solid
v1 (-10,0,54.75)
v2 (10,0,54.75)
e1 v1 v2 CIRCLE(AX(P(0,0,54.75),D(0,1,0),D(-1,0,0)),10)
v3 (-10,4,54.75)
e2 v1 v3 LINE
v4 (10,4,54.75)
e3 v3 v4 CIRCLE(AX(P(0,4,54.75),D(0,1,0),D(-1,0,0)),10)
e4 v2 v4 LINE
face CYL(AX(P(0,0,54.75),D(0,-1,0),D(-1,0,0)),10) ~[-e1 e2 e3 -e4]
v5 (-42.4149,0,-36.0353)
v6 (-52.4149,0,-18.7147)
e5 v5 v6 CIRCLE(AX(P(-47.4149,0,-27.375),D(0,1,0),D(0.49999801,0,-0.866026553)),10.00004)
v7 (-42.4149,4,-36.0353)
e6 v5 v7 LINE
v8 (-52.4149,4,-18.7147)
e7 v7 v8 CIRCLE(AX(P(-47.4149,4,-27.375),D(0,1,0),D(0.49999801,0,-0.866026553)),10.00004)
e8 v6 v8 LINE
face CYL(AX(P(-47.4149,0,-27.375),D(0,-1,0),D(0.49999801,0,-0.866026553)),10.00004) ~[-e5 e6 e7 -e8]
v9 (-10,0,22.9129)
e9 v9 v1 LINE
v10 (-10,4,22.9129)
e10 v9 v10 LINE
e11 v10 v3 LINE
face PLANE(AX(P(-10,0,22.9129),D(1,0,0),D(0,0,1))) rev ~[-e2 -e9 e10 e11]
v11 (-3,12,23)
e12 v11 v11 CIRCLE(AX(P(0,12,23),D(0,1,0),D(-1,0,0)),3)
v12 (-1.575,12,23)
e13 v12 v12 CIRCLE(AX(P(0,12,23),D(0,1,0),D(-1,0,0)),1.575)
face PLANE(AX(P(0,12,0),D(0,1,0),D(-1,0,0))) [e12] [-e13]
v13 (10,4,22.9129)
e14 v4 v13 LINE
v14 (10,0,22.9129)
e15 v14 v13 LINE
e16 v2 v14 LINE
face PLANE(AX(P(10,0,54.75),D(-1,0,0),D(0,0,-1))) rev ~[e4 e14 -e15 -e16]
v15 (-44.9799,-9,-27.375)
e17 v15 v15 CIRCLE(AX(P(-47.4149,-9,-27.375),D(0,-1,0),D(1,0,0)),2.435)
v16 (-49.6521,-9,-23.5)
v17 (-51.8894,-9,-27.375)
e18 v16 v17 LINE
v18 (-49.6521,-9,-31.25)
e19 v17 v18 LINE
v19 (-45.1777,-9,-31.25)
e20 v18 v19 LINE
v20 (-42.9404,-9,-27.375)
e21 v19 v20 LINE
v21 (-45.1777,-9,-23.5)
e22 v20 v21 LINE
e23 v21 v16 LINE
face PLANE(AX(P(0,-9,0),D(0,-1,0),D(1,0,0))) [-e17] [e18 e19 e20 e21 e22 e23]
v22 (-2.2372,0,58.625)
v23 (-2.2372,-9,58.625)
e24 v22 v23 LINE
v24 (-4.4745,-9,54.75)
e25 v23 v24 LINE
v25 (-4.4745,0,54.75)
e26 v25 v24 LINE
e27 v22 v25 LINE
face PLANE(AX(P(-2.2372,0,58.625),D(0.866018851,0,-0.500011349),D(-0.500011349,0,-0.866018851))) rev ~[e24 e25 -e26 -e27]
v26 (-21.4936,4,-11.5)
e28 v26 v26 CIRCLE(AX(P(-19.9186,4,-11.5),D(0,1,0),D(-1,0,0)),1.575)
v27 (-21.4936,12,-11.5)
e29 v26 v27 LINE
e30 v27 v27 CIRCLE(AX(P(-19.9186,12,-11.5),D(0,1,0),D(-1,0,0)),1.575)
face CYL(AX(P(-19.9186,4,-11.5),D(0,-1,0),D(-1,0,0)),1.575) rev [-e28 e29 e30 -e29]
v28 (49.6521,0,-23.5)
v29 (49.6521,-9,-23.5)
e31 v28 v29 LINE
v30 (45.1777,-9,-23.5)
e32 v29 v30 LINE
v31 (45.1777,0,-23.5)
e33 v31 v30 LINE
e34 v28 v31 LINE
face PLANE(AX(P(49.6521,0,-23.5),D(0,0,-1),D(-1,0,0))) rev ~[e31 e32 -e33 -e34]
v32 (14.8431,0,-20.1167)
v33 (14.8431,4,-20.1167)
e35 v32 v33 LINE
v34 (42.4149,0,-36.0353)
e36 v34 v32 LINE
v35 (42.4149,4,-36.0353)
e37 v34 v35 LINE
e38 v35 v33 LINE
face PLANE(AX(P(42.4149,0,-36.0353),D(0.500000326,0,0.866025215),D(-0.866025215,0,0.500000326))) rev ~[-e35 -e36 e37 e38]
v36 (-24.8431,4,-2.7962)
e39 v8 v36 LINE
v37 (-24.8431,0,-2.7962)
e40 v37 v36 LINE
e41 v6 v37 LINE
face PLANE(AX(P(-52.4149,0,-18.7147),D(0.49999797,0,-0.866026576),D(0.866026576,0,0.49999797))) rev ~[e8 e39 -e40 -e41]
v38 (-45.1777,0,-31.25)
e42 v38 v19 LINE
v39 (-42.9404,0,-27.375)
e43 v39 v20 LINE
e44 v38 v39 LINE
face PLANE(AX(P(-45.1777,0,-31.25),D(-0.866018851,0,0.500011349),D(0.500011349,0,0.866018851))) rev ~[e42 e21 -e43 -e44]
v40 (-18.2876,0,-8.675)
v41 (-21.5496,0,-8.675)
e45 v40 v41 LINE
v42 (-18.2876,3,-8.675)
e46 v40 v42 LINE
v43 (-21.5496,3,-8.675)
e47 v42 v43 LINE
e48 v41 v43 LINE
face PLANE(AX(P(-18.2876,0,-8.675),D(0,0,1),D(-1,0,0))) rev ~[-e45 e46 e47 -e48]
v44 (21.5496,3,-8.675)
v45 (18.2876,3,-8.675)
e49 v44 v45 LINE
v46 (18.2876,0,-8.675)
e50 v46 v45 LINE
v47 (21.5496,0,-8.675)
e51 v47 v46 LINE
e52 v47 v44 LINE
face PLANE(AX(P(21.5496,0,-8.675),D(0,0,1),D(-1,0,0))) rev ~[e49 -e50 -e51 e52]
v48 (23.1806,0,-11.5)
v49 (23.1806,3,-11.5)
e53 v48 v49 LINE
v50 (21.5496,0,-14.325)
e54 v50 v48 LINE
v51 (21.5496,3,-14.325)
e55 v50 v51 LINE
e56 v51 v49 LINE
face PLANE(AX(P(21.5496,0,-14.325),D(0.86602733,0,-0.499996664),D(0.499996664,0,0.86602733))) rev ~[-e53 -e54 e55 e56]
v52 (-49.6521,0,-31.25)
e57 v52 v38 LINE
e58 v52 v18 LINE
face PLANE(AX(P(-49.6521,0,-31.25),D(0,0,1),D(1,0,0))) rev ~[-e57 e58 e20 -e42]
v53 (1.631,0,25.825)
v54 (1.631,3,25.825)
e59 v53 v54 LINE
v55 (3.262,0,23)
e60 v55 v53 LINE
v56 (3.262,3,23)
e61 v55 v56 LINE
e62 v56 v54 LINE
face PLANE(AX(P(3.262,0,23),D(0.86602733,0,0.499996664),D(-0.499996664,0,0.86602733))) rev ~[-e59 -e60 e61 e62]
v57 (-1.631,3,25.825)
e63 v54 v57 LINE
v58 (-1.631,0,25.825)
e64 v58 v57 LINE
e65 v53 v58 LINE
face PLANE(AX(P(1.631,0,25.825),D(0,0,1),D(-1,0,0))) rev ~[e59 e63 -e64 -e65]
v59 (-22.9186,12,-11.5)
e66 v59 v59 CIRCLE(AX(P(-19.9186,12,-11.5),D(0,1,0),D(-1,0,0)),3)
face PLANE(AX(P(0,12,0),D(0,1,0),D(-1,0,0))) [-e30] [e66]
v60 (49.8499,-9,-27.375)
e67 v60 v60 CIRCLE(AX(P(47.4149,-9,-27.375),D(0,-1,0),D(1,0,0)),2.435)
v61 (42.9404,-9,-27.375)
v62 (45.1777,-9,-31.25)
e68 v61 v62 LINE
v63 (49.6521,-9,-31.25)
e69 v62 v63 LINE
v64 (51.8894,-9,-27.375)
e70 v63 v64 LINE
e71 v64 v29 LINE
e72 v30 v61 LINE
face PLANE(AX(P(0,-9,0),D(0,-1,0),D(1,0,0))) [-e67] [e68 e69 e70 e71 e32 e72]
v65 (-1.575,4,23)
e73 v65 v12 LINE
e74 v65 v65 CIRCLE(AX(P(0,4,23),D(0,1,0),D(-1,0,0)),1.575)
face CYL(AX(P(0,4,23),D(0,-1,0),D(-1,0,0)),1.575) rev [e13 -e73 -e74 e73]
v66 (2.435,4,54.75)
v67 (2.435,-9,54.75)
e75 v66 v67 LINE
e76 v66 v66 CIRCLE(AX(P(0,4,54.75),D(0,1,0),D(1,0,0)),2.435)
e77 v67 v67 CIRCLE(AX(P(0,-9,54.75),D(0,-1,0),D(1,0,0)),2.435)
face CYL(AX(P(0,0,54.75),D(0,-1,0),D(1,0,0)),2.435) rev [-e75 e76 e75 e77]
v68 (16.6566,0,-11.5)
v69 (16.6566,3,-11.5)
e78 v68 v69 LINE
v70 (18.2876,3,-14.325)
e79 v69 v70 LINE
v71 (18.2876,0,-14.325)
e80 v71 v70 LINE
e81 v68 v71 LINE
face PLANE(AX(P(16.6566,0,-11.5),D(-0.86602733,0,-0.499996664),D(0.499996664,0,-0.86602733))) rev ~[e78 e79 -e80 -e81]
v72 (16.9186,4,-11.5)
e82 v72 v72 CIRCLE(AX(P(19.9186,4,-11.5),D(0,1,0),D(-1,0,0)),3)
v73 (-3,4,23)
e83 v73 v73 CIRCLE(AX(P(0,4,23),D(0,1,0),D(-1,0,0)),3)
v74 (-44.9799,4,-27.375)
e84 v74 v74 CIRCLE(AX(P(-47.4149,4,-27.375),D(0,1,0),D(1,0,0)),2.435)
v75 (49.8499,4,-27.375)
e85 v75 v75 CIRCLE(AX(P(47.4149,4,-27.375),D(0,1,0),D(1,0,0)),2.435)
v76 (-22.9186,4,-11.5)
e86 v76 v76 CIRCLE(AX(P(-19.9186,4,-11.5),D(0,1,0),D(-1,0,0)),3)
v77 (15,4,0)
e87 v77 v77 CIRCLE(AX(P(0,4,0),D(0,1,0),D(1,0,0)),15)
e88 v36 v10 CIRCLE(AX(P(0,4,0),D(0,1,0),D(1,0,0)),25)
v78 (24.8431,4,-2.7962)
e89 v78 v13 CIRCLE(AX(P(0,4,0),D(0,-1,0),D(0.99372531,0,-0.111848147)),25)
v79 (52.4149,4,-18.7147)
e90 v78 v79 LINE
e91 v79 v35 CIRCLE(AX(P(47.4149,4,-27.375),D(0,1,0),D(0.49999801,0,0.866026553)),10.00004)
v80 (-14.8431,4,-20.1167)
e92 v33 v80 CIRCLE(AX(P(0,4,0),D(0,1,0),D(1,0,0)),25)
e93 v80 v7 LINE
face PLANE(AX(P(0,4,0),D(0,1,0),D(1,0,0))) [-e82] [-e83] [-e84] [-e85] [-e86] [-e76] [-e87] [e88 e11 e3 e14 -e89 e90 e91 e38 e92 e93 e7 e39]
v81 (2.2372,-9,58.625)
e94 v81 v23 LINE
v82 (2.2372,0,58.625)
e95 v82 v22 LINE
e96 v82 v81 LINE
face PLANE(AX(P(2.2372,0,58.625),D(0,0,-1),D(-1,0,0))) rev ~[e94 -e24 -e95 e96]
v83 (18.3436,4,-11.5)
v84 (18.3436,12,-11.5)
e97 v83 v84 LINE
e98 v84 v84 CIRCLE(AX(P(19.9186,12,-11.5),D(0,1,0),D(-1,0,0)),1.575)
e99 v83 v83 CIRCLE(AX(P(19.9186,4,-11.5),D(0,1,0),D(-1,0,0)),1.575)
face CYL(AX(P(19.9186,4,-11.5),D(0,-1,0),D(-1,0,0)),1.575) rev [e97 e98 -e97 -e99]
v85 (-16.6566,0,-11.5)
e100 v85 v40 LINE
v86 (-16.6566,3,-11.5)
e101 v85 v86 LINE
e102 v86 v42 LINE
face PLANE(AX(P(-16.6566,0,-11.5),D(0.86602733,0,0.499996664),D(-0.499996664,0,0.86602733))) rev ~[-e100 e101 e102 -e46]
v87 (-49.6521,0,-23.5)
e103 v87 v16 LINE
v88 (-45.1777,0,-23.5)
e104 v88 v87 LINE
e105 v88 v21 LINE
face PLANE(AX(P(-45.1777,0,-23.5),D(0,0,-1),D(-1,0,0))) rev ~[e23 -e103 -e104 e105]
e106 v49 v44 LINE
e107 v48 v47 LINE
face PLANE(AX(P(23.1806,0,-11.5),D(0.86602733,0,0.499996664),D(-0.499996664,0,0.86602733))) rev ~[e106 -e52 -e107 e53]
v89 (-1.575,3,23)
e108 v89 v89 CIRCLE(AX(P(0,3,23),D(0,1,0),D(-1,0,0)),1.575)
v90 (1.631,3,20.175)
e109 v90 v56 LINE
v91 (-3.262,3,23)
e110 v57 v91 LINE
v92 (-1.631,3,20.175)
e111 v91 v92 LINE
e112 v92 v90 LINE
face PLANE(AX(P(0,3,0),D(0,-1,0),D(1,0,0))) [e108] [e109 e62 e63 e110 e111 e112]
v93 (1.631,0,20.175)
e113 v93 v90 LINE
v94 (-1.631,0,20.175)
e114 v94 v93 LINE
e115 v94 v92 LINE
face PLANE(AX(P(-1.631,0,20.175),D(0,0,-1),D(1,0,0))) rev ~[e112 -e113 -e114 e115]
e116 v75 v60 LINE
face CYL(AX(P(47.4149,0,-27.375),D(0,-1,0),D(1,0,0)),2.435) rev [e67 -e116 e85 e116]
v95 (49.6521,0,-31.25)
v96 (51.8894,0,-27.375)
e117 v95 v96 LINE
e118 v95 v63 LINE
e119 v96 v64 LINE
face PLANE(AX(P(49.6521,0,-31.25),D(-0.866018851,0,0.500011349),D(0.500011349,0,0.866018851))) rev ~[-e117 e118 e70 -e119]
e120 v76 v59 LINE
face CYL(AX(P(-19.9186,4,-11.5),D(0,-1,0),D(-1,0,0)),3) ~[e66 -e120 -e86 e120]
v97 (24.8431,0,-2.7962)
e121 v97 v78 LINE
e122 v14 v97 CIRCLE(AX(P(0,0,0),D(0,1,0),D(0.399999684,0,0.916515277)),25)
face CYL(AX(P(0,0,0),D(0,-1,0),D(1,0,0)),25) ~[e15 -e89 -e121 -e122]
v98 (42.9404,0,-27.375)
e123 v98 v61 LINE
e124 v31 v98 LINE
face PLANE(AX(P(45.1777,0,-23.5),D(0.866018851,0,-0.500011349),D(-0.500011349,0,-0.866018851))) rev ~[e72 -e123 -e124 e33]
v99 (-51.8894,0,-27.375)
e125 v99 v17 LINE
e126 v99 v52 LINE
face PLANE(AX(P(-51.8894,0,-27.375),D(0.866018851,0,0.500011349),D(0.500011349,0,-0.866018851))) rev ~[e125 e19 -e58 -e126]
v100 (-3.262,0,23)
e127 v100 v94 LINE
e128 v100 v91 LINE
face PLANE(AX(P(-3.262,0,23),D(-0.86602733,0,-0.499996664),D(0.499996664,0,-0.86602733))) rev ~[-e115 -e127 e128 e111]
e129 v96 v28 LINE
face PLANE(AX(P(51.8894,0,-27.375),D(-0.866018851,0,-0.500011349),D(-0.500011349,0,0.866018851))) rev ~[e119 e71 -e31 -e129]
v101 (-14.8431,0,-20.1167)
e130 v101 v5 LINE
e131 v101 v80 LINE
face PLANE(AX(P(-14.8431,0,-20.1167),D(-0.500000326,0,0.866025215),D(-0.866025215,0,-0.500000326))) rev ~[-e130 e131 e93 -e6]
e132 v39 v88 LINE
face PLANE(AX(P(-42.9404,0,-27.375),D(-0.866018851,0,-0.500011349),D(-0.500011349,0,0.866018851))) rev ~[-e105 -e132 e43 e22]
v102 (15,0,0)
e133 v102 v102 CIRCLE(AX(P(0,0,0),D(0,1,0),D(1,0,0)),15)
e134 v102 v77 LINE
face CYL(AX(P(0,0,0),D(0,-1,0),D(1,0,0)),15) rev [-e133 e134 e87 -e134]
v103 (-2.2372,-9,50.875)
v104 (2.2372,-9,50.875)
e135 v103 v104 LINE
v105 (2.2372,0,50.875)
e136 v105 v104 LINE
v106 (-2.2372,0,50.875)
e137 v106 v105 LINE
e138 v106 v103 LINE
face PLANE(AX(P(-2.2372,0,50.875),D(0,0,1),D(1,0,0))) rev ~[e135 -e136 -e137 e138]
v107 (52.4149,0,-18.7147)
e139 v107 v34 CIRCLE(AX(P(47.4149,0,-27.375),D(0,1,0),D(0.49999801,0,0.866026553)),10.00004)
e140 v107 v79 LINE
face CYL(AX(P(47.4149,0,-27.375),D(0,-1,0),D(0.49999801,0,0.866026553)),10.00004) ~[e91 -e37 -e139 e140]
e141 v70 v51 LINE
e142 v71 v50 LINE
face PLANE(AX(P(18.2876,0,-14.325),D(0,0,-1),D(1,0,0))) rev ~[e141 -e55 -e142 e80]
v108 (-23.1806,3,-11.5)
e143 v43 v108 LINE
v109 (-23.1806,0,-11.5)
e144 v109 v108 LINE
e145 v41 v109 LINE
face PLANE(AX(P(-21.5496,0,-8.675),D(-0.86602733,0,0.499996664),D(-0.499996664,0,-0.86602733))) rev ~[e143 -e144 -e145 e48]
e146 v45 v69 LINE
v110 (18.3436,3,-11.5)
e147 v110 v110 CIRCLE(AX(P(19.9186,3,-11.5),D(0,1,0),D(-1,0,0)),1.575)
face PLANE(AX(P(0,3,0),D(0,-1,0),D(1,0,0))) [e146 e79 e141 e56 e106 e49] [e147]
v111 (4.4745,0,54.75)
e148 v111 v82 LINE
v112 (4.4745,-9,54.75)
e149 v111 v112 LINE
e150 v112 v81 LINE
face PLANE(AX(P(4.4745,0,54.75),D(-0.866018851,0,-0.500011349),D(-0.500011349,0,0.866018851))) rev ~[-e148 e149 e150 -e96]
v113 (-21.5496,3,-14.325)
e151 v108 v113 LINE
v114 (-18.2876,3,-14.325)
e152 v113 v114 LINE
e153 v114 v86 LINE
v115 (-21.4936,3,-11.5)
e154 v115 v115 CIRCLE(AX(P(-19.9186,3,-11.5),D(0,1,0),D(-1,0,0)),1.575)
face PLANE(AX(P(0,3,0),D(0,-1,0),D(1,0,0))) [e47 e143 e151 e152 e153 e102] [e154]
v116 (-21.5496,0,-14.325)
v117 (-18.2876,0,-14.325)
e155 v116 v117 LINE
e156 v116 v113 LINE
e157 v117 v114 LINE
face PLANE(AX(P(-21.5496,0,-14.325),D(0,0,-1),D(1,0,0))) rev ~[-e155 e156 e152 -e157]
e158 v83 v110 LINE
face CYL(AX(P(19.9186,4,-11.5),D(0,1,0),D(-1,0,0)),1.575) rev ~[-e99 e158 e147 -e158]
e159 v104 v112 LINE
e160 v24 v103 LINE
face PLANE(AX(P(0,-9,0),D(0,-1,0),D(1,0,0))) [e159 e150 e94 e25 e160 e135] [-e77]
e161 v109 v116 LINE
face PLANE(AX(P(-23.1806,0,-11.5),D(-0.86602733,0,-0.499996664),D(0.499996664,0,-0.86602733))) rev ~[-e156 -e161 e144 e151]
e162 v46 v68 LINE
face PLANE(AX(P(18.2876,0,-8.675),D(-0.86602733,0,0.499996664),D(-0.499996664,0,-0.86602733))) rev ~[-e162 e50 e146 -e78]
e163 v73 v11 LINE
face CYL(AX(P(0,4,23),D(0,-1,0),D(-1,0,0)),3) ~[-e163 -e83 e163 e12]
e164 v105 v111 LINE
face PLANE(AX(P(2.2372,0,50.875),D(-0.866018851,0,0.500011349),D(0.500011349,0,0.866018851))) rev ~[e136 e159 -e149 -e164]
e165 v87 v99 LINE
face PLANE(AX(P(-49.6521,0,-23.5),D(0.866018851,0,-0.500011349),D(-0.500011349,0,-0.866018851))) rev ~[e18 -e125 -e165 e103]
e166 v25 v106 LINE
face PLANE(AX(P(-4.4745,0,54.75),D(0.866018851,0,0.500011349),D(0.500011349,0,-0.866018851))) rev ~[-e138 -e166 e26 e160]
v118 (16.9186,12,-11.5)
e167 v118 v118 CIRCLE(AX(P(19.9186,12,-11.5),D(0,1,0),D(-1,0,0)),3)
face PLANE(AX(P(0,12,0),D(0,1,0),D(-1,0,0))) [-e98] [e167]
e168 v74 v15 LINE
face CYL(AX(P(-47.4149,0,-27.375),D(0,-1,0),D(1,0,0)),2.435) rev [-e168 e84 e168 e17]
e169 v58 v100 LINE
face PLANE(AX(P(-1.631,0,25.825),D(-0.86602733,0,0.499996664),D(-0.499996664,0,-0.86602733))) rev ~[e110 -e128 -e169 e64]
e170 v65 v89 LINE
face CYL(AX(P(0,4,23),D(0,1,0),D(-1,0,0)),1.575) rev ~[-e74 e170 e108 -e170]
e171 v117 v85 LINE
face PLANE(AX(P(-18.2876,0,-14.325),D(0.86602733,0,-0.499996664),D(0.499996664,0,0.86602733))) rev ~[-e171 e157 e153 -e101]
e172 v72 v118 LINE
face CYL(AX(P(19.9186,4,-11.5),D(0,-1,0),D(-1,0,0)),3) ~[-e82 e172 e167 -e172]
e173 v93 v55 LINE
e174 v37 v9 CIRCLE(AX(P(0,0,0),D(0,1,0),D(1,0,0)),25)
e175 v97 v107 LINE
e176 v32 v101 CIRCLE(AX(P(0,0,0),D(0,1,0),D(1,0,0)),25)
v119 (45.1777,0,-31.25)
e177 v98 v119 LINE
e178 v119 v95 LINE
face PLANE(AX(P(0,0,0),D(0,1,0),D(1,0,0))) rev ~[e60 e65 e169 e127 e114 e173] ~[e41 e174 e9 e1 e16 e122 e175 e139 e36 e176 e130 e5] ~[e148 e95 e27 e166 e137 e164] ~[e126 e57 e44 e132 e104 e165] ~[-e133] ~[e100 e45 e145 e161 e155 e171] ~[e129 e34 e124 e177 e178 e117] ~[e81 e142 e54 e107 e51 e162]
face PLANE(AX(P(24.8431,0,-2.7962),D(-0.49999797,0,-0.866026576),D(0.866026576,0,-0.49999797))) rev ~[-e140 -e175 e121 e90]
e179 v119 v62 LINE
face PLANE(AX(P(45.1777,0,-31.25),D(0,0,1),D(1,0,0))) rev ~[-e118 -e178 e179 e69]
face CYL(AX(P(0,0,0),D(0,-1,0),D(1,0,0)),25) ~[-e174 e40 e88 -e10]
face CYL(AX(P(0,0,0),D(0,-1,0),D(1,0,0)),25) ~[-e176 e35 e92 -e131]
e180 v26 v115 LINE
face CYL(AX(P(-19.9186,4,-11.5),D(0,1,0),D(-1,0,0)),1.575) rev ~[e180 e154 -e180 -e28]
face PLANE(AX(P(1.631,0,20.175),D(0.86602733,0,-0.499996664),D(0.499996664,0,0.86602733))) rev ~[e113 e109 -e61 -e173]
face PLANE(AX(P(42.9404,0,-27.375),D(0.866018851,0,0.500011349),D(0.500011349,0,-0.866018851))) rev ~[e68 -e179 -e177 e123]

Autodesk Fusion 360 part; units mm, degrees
sketch "Sketch1" plane through (0, 0, 0) normal (0, 1, 0) x (1, 0, 0)
  circle A0 centre (0, 0) radius 15
  circle A1 centre (0, 0) radius 25
  line L0 (0, 0) -> (0, -54.75) construction
  circle A2 centre (0, -54.75) radius 2.435
  line L1 (4.5611, -54.75) -> (2.2805, -50.8)
  line L2 (2.2805, -50.8) -> (-2.2805, -50.8)
  line L3 (-2.2805, -50.8) -> (-4.5611, -54.75)
  line L4 (-4.5611, -54.75) -> (-2.2805, -58.7)
  line L5 (-2.2805, -58.7) -> (2.2805, -58.7)
  line L6 (2.2805, -58.7) -> (4.5611, -54.75)
  line L7 (-10, -22.9129) -> (-10, -54.75)
  arc A3 (-10, -54.75) -> (10, -54.75) centre (0, -54.75) ccw
  line L8 (10, -54.75) -> (10, -22.9129)
  line L9 (0, 0) -> (47.4149, 27.375) construction
  line L10 (45.1344, 31.325) -> (42.8538, 27.375)
  circle A4 centre (47.4149, 27.375) radius 2.435
  line L11 (51.976, 27.375) -> (49.6954, 31.325)
  line L12 (42.8538, 27.375) -> (45.1344, 23.425)
  line L13 (49.6954, 23.425) -> (51.976, 27.375)
  line L14 (45.1344, 23.425) -> (49.6954, 23.425)
  arc A5 (52.4149, 18.7147) -> (42.4149, 36.0353) centre (47.4149, 27.375) ccw
  line L15 (49.6954, 31.325) -> (45.1344, 31.325)
  line L16 (42.4149, 36.0353) -> (14.8431, 20.1167)
  line L17 (24.8431, 2.7962) -> (52.4149, 18.7147)
  line L18 (0, 0) -> (-47.4149, 27.375) construction
  line L19 (-49.6954, 23.425) -> (-45.1344, 23.425)
  circle A6 centre (-47.4149, 27.375) radius 2.435
  line L20 (-49.6954, 31.325) -> (-51.976, 27.375)
  line L21 (-45.1344, 23.425) -> (-42.8538, 27.375)
  line L22 (-45.1344, 31.325) -> (-49.6954, 31.325)
  line L23 (-42.8538, 27.375) -> (-45.1344, 31.325)
  arc A7 (-42.4149, 36.0353) -> (-52.4149, 18.7147) centre (-47.4149, 27.375) ccw
  line L24 (-51.976, 27.375) -> (-49.6954, 23.425)
  line L25 (-52.4149, 18.7147) -> (-24.8431, 2.7962)
  line L26 (-14.8431, 20.1167) -> (-42.4149, 36.0353)
  point P0 (0, -54.75)
  point P1 (47.4149, 27.375)
  point P2 (-47.4149, 27.375)
  dimension "d1" = 30
  dimension "d2" = 50
  dimension "d3" = 7.9
  dimension "d4" = 4.87
  dimension "d5" = 50.8
  dimension "d6" = 10
  dimension "d8" = 360
extrude "Extrude1" add sketch "Sketch1" along normal blind 4 contours A1 | A1 A5 L16 L17 | A1 L7 A3 L8 | A1 A7 L25 L26 | L1 L2 L3 L4 L5 L6 | L10 L11 L12 L13 L14 L15 | L19 L20 L21 L22 L23 L24
sketch "Sketch2" plane through (0, 0, 0) normal (0, -1, 0) x (1, 0, 0)
  circle A0 centre (0, 0) radius 15
  circle A1 centre (47.4149, -27.375) radius 2.435
  circle A2 centre (0, 54.75) radius 2.435
  circle A3 centre (-47.4149, -27.375) radius 2.435
  line L0 (-42.4149, -36.0353) -> (-14.8431, -20.1167)
  arc A4 (-14.8431, -20.1167) -> (14.8431, -20.1167) centre (0, 0) ccw
  line L1 (14.8431, -20.1167) -> (42.4149, -36.0353)
  arc A5 (42.4149, -36.0353) -> (52.4149, -18.7147) centre (47.4149, -27.375) ccw
  line L2 (52.4149, -18.7147) -> (24.8431, -2.7962)
  arc A6 (24.8431, -2.7962) -> (10, 22.9129) centre (0, 0) ccw
  line L3 (10, 22.9129) -> (10, 54.75)
  arc A7 (10, 54.75) -> (-10, 54.75) centre (0, 54.75) ccw
  line L4 (-10, 54.75) -> (-10, 22.9129)
  arc A8 (-10, 22.9129) -> (-24.8431, -2.7962) centre (0, 0) ccw
  line L5 (-24.8431, -2.7962) -> (-52.4149, -18.7147)
  arc A9 (-52.4149, -18.7147) -> (-42.4149, -36.0353) centre (-47.4149, -27.375) ccw
  line L6 (2.2372, 50.875) -> (4.4745, 54.75)
  line L7 (4.4745, 54.75) -> (2.2372, 58.625)
  line L8 (2.2372, 58.625) -> (-2.2372, 58.625)
  line L9 (-2.2372, 58.625) -> (-4.4745, 54.75)
  line L10 (-4.4745, 54.75) -> (-2.2372, 50.875)
  line L11 (-2.2372, 50.875) -> (2.2372, 50.875)
  line L12 (-51.8894, -27.375) -> (-49.6521, -31.25)
  line L13 (-45.1777, -23.5) -> (-49.6521, -23.5)
  line L14 (-42.9404, -27.375) -> (-45.1777, -23.5)
  line L15 (-49.6521, -31.25) -> (-45.1777, -31.25)
  circle A10 centre (-47.4149, -27.375) radius 2.435
  line L16 (-45.1777, -31.25) -> (-42.9404, -27.375)
  line L17 (-49.6521, -23.5) -> (-51.8894, -27.375)
  line L18 (49.6521, -31.25) -> (51.8894, -27.375)
  line L19 (42.9404, -27.375) -> (45.1777, -31.25)
  line L20 (45.1777, -23.5) -> (42.9404, -27.375)
  line L21 (51.8894, -27.375) -> (49.6521, -23.5)
  circle A11 centre (47.4149, -27.375) radius 2.435
  line L22 (49.6521, -23.5) -> (45.1777, -23.5)
  line L23 (45.1777, -31.25) -> (49.6521, -31.25)
  point P0 (0, 54.75)
  point P1 (-47.4149, -27.375)
  point P2 (47.4149, -27.375)
  dimension "d11" = 7.75
  dimension "d13" = 360
extrude "Extrude2" add sketch "Sketch2" along normal blind 9 contours L6 L7 L8 L9 L10 L11 | L12 L13 L14 L15 L16 L17 | L18 L19 L20 L21 L22 L23
sketch "Sketch3" plane through (0, 4, 0) normal (0, 1, 0) x (-1, 0, 0)
  circle A0 centre (0, 0) radius 15
  circle A1 centre (-47.4149, -27.375) radius 2.435
  circle A2 centre (0, 54.75) radius 2.435
  circle A3 centre (47.4149, -27.375) radius 2.435
  line L0 (14.8431, -20.1167) -> (42.4149, -36.0353)
  arc A4 (42.4149, -36.0353) -> (52.4149, -18.7147) centre (47.4149, -27.375) ccw
  line L1 (52.4149, -18.7147) -> (24.8431, -2.7962)
  arc A5 (24.8431, -2.7962) -> (10, 22.9129) centre (0, 0) ccw
  line L2 (10, 22.9129) -> (10, 54.75)
  arc A6 (10, 54.75) -> (-10, 54.75) centre (0, 54.75) ccw
  line L3 (-10, 54.75) -> (-10, 22.9129)
  arc A7 (-10, 22.9129) -> (-24.8431, -2.7962) centre (0, 0) ccw
  line L4 (-24.8431, -2.7962) -> (-52.4149, -18.7147)
  arc A8 (-52.4149, -18.7147) -> (-42.4149, -36.0353) centre (-47.4149, -27.375) ccw
  line L5 (-42.4149, -36.0353) -> (-14.8431, -20.1167)
  arc A9 (-14.8431, -20.1167) -> (14.8431, -20.1167) centre (0, 0) ccw
  line L6 (0, 54.75) -> (0, 15) construction
  circle A10 centre (0, 23) radius 3
  circle A11 centre (0, 23) radius 1.575
  circle A12 centre (-19.9186, -11.5) radius 3
  circle A13 centre (-19.9186, -11.5) radius 1.575
  circle A14 centre (19.9186, -11.5) radius 3
  circle A15 centre (19.9186, -11.5) radius 1.575
  dimension "d16" = 8
  dimension "d17" = 6
  dimension "d18" = 3.15
  dimension "d20" = 360
extrude "Extrude3" add sketch "Sketch3" along normal blind 8 contours A10 | A12 | A14
extrude "Extrude4" cut 3 faces at (0.5191, 4, 23.8992) (-20.3985, 4, -11.9453) (20.3916, 4, -11.4183) along direction (0, 1, 0) up to surface end surface through (0, 0, 0) normal (0, -1, 0) offset 0
sketch "Sketch4" plane through (0, 0, 0) normal (0, -1, 0) x (1, 0, 0)
  circle A0 centre (-19.9186, -11.5) radius 1.575
  circle A1 centre (0, 23) radius 1.575
  circle A2 centre (19.9186, -11.5) radius 1.575
  line L0 (-2.2372, 50.875) -> (-4.4745, 54.75)
  line L1 (-4.4745, 54.75) -> (-2.2372, 58.625)
  line L2 (-2.2372, 58.625) -> (2.2372, 58.625)
  line L3 (2.2372, 58.625) -> (4.4745, 54.75)
  line L4 (4.4745, 54.75) -> (2.2372, 50.875)
  line L5 (2.2372, 50.875) -> (-2.2372, 50.875)
  line L6 (-49.6521, -23.5) -> (-45.1777, -23.5)
  line L7 (-45.1777, -23.5) -> (-42.9404, -27.375)
  line L8 (-42.9404, -27.375) -> (-45.1777, -31.25)
  line L9 (-45.1777, -31.25) -> (-49.6521, -31.25)
  line L10 (-49.6521, -31.25) -> (-51.8894, -27.375)
  line L11 (-51.8894, -27.375) -> (-49.6521, -23.5)
  line L12 (45.1777, -31.25) -> (42.9404, -27.375)
  line L13 (42.9404, -27.375) -> (45.1777, -23.5)
  line L14 (45.1777, -23.5) -> (49.6521, -23.5)
  line L15 (49.6521, -23.5) -> (51.8894, -27.375)
  line L16 (51.8894, -27.375) -> (49.6521, -31.25)
  line L17 (49.6521, -31.25) -> (45.1777, -31.25)
  circle A3 centre (0, 0) radius 15
  line L18 (-42.4149, -36.0353) -> (-14.8431, -20.1167)
  arc A4 (-14.8431, -20.1167) -> (14.8431, -20.1167) centre (0, 0) ccw
  line L19 (14.8431, -20.1167) -> (42.4149, -36.0353)
  arc A5 (42.4149, -36.0353) -> (52.4149, -18.7147) centre (47.4149, -27.375) ccw
  line L20 (52.4149, -18.7147) -> (24.8431, -2.7962)
  arc A6 (24.8431, -2.7962) -> (10, 22.9129) centre (0, 0) ccw
  line L21 (10, 22.9129) -> (10, 54.75)
  arc A7 (10, 54.75) -> (-10, 54.75) centre (0, 54.75) ccw
  line L22 (-10, 54.75) -> (-10, 22.9129)
  arc A8 (-10, 22.9129) -> (-24.8431, -2.7962) centre (0, 0) ccw
  line L23 (-24.8431, -2.7962) -> (-52.4149, -18.7147)
  arc A9 (-52.4149, -18.7147) -> (-42.4149, -36.0353) centre (-47.4149, -27.375) ccw
  line L24 (18.2876, -14.325) -> (21.5496, -14.325)
  line L25 (21.5496, -14.325) -> (23.1806, -11.5)
  line L26 (23.1806, -11.5) -> (21.5496, -8.675)
  line L27 (21.5496, -8.675) -> (18.2876, -8.675)
  line L28 (18.2876, -8.675) -> (16.6566, -11.5)
  line L29 (16.6566, -11.5) -> (18.2876, -14.325)
  line L30 (3.262, 23) -> (1.631, 25.825)
  line L31 (1.631, 20.175) -> (3.262, 23)
  line L32 (1.631, 25.825) -> (-1.631, 25.825)
  line L33 (-1.631, 25.825) -> (-3.262, 23)
  line L34 (-3.262, 23) -> (-1.631, 20.175)
  line L35 (-1.631, 20.175) -> (1.631, 20.175)
  line L36 (-21.5496, -8.675) -> (-23.1806, -11.5)
  line L37 (-18.2876, -8.675) -> (-21.5496, -8.675)
  line L38 (-23.1806, -11.5) -> (-21.5496, -14.325)
  line L39 (-21.5496, -14.325) -> (-18.2876, -14.325)
  line L40 (-18.2876, -14.325) -> (-16.6566, -11.5)
  line L41 (-16.6566, -11.5) -> (-18.2876, -8.675)
  point P0 (19.9186, -11.5)
  point P1 (0, 23)
  point P2 (-19.9186, -11.5)
  dimension "d25" = 5.65
  dimension "d27" = 360
extrude "Extrude5" cut sketch "Sketch4" against normal up to surface (3 mm away) contours L24 L25 L26 L27 L28 L29 | L30 L31 L32 L33 L34 L35 | L36 L37 L38 L39 L40 L41
